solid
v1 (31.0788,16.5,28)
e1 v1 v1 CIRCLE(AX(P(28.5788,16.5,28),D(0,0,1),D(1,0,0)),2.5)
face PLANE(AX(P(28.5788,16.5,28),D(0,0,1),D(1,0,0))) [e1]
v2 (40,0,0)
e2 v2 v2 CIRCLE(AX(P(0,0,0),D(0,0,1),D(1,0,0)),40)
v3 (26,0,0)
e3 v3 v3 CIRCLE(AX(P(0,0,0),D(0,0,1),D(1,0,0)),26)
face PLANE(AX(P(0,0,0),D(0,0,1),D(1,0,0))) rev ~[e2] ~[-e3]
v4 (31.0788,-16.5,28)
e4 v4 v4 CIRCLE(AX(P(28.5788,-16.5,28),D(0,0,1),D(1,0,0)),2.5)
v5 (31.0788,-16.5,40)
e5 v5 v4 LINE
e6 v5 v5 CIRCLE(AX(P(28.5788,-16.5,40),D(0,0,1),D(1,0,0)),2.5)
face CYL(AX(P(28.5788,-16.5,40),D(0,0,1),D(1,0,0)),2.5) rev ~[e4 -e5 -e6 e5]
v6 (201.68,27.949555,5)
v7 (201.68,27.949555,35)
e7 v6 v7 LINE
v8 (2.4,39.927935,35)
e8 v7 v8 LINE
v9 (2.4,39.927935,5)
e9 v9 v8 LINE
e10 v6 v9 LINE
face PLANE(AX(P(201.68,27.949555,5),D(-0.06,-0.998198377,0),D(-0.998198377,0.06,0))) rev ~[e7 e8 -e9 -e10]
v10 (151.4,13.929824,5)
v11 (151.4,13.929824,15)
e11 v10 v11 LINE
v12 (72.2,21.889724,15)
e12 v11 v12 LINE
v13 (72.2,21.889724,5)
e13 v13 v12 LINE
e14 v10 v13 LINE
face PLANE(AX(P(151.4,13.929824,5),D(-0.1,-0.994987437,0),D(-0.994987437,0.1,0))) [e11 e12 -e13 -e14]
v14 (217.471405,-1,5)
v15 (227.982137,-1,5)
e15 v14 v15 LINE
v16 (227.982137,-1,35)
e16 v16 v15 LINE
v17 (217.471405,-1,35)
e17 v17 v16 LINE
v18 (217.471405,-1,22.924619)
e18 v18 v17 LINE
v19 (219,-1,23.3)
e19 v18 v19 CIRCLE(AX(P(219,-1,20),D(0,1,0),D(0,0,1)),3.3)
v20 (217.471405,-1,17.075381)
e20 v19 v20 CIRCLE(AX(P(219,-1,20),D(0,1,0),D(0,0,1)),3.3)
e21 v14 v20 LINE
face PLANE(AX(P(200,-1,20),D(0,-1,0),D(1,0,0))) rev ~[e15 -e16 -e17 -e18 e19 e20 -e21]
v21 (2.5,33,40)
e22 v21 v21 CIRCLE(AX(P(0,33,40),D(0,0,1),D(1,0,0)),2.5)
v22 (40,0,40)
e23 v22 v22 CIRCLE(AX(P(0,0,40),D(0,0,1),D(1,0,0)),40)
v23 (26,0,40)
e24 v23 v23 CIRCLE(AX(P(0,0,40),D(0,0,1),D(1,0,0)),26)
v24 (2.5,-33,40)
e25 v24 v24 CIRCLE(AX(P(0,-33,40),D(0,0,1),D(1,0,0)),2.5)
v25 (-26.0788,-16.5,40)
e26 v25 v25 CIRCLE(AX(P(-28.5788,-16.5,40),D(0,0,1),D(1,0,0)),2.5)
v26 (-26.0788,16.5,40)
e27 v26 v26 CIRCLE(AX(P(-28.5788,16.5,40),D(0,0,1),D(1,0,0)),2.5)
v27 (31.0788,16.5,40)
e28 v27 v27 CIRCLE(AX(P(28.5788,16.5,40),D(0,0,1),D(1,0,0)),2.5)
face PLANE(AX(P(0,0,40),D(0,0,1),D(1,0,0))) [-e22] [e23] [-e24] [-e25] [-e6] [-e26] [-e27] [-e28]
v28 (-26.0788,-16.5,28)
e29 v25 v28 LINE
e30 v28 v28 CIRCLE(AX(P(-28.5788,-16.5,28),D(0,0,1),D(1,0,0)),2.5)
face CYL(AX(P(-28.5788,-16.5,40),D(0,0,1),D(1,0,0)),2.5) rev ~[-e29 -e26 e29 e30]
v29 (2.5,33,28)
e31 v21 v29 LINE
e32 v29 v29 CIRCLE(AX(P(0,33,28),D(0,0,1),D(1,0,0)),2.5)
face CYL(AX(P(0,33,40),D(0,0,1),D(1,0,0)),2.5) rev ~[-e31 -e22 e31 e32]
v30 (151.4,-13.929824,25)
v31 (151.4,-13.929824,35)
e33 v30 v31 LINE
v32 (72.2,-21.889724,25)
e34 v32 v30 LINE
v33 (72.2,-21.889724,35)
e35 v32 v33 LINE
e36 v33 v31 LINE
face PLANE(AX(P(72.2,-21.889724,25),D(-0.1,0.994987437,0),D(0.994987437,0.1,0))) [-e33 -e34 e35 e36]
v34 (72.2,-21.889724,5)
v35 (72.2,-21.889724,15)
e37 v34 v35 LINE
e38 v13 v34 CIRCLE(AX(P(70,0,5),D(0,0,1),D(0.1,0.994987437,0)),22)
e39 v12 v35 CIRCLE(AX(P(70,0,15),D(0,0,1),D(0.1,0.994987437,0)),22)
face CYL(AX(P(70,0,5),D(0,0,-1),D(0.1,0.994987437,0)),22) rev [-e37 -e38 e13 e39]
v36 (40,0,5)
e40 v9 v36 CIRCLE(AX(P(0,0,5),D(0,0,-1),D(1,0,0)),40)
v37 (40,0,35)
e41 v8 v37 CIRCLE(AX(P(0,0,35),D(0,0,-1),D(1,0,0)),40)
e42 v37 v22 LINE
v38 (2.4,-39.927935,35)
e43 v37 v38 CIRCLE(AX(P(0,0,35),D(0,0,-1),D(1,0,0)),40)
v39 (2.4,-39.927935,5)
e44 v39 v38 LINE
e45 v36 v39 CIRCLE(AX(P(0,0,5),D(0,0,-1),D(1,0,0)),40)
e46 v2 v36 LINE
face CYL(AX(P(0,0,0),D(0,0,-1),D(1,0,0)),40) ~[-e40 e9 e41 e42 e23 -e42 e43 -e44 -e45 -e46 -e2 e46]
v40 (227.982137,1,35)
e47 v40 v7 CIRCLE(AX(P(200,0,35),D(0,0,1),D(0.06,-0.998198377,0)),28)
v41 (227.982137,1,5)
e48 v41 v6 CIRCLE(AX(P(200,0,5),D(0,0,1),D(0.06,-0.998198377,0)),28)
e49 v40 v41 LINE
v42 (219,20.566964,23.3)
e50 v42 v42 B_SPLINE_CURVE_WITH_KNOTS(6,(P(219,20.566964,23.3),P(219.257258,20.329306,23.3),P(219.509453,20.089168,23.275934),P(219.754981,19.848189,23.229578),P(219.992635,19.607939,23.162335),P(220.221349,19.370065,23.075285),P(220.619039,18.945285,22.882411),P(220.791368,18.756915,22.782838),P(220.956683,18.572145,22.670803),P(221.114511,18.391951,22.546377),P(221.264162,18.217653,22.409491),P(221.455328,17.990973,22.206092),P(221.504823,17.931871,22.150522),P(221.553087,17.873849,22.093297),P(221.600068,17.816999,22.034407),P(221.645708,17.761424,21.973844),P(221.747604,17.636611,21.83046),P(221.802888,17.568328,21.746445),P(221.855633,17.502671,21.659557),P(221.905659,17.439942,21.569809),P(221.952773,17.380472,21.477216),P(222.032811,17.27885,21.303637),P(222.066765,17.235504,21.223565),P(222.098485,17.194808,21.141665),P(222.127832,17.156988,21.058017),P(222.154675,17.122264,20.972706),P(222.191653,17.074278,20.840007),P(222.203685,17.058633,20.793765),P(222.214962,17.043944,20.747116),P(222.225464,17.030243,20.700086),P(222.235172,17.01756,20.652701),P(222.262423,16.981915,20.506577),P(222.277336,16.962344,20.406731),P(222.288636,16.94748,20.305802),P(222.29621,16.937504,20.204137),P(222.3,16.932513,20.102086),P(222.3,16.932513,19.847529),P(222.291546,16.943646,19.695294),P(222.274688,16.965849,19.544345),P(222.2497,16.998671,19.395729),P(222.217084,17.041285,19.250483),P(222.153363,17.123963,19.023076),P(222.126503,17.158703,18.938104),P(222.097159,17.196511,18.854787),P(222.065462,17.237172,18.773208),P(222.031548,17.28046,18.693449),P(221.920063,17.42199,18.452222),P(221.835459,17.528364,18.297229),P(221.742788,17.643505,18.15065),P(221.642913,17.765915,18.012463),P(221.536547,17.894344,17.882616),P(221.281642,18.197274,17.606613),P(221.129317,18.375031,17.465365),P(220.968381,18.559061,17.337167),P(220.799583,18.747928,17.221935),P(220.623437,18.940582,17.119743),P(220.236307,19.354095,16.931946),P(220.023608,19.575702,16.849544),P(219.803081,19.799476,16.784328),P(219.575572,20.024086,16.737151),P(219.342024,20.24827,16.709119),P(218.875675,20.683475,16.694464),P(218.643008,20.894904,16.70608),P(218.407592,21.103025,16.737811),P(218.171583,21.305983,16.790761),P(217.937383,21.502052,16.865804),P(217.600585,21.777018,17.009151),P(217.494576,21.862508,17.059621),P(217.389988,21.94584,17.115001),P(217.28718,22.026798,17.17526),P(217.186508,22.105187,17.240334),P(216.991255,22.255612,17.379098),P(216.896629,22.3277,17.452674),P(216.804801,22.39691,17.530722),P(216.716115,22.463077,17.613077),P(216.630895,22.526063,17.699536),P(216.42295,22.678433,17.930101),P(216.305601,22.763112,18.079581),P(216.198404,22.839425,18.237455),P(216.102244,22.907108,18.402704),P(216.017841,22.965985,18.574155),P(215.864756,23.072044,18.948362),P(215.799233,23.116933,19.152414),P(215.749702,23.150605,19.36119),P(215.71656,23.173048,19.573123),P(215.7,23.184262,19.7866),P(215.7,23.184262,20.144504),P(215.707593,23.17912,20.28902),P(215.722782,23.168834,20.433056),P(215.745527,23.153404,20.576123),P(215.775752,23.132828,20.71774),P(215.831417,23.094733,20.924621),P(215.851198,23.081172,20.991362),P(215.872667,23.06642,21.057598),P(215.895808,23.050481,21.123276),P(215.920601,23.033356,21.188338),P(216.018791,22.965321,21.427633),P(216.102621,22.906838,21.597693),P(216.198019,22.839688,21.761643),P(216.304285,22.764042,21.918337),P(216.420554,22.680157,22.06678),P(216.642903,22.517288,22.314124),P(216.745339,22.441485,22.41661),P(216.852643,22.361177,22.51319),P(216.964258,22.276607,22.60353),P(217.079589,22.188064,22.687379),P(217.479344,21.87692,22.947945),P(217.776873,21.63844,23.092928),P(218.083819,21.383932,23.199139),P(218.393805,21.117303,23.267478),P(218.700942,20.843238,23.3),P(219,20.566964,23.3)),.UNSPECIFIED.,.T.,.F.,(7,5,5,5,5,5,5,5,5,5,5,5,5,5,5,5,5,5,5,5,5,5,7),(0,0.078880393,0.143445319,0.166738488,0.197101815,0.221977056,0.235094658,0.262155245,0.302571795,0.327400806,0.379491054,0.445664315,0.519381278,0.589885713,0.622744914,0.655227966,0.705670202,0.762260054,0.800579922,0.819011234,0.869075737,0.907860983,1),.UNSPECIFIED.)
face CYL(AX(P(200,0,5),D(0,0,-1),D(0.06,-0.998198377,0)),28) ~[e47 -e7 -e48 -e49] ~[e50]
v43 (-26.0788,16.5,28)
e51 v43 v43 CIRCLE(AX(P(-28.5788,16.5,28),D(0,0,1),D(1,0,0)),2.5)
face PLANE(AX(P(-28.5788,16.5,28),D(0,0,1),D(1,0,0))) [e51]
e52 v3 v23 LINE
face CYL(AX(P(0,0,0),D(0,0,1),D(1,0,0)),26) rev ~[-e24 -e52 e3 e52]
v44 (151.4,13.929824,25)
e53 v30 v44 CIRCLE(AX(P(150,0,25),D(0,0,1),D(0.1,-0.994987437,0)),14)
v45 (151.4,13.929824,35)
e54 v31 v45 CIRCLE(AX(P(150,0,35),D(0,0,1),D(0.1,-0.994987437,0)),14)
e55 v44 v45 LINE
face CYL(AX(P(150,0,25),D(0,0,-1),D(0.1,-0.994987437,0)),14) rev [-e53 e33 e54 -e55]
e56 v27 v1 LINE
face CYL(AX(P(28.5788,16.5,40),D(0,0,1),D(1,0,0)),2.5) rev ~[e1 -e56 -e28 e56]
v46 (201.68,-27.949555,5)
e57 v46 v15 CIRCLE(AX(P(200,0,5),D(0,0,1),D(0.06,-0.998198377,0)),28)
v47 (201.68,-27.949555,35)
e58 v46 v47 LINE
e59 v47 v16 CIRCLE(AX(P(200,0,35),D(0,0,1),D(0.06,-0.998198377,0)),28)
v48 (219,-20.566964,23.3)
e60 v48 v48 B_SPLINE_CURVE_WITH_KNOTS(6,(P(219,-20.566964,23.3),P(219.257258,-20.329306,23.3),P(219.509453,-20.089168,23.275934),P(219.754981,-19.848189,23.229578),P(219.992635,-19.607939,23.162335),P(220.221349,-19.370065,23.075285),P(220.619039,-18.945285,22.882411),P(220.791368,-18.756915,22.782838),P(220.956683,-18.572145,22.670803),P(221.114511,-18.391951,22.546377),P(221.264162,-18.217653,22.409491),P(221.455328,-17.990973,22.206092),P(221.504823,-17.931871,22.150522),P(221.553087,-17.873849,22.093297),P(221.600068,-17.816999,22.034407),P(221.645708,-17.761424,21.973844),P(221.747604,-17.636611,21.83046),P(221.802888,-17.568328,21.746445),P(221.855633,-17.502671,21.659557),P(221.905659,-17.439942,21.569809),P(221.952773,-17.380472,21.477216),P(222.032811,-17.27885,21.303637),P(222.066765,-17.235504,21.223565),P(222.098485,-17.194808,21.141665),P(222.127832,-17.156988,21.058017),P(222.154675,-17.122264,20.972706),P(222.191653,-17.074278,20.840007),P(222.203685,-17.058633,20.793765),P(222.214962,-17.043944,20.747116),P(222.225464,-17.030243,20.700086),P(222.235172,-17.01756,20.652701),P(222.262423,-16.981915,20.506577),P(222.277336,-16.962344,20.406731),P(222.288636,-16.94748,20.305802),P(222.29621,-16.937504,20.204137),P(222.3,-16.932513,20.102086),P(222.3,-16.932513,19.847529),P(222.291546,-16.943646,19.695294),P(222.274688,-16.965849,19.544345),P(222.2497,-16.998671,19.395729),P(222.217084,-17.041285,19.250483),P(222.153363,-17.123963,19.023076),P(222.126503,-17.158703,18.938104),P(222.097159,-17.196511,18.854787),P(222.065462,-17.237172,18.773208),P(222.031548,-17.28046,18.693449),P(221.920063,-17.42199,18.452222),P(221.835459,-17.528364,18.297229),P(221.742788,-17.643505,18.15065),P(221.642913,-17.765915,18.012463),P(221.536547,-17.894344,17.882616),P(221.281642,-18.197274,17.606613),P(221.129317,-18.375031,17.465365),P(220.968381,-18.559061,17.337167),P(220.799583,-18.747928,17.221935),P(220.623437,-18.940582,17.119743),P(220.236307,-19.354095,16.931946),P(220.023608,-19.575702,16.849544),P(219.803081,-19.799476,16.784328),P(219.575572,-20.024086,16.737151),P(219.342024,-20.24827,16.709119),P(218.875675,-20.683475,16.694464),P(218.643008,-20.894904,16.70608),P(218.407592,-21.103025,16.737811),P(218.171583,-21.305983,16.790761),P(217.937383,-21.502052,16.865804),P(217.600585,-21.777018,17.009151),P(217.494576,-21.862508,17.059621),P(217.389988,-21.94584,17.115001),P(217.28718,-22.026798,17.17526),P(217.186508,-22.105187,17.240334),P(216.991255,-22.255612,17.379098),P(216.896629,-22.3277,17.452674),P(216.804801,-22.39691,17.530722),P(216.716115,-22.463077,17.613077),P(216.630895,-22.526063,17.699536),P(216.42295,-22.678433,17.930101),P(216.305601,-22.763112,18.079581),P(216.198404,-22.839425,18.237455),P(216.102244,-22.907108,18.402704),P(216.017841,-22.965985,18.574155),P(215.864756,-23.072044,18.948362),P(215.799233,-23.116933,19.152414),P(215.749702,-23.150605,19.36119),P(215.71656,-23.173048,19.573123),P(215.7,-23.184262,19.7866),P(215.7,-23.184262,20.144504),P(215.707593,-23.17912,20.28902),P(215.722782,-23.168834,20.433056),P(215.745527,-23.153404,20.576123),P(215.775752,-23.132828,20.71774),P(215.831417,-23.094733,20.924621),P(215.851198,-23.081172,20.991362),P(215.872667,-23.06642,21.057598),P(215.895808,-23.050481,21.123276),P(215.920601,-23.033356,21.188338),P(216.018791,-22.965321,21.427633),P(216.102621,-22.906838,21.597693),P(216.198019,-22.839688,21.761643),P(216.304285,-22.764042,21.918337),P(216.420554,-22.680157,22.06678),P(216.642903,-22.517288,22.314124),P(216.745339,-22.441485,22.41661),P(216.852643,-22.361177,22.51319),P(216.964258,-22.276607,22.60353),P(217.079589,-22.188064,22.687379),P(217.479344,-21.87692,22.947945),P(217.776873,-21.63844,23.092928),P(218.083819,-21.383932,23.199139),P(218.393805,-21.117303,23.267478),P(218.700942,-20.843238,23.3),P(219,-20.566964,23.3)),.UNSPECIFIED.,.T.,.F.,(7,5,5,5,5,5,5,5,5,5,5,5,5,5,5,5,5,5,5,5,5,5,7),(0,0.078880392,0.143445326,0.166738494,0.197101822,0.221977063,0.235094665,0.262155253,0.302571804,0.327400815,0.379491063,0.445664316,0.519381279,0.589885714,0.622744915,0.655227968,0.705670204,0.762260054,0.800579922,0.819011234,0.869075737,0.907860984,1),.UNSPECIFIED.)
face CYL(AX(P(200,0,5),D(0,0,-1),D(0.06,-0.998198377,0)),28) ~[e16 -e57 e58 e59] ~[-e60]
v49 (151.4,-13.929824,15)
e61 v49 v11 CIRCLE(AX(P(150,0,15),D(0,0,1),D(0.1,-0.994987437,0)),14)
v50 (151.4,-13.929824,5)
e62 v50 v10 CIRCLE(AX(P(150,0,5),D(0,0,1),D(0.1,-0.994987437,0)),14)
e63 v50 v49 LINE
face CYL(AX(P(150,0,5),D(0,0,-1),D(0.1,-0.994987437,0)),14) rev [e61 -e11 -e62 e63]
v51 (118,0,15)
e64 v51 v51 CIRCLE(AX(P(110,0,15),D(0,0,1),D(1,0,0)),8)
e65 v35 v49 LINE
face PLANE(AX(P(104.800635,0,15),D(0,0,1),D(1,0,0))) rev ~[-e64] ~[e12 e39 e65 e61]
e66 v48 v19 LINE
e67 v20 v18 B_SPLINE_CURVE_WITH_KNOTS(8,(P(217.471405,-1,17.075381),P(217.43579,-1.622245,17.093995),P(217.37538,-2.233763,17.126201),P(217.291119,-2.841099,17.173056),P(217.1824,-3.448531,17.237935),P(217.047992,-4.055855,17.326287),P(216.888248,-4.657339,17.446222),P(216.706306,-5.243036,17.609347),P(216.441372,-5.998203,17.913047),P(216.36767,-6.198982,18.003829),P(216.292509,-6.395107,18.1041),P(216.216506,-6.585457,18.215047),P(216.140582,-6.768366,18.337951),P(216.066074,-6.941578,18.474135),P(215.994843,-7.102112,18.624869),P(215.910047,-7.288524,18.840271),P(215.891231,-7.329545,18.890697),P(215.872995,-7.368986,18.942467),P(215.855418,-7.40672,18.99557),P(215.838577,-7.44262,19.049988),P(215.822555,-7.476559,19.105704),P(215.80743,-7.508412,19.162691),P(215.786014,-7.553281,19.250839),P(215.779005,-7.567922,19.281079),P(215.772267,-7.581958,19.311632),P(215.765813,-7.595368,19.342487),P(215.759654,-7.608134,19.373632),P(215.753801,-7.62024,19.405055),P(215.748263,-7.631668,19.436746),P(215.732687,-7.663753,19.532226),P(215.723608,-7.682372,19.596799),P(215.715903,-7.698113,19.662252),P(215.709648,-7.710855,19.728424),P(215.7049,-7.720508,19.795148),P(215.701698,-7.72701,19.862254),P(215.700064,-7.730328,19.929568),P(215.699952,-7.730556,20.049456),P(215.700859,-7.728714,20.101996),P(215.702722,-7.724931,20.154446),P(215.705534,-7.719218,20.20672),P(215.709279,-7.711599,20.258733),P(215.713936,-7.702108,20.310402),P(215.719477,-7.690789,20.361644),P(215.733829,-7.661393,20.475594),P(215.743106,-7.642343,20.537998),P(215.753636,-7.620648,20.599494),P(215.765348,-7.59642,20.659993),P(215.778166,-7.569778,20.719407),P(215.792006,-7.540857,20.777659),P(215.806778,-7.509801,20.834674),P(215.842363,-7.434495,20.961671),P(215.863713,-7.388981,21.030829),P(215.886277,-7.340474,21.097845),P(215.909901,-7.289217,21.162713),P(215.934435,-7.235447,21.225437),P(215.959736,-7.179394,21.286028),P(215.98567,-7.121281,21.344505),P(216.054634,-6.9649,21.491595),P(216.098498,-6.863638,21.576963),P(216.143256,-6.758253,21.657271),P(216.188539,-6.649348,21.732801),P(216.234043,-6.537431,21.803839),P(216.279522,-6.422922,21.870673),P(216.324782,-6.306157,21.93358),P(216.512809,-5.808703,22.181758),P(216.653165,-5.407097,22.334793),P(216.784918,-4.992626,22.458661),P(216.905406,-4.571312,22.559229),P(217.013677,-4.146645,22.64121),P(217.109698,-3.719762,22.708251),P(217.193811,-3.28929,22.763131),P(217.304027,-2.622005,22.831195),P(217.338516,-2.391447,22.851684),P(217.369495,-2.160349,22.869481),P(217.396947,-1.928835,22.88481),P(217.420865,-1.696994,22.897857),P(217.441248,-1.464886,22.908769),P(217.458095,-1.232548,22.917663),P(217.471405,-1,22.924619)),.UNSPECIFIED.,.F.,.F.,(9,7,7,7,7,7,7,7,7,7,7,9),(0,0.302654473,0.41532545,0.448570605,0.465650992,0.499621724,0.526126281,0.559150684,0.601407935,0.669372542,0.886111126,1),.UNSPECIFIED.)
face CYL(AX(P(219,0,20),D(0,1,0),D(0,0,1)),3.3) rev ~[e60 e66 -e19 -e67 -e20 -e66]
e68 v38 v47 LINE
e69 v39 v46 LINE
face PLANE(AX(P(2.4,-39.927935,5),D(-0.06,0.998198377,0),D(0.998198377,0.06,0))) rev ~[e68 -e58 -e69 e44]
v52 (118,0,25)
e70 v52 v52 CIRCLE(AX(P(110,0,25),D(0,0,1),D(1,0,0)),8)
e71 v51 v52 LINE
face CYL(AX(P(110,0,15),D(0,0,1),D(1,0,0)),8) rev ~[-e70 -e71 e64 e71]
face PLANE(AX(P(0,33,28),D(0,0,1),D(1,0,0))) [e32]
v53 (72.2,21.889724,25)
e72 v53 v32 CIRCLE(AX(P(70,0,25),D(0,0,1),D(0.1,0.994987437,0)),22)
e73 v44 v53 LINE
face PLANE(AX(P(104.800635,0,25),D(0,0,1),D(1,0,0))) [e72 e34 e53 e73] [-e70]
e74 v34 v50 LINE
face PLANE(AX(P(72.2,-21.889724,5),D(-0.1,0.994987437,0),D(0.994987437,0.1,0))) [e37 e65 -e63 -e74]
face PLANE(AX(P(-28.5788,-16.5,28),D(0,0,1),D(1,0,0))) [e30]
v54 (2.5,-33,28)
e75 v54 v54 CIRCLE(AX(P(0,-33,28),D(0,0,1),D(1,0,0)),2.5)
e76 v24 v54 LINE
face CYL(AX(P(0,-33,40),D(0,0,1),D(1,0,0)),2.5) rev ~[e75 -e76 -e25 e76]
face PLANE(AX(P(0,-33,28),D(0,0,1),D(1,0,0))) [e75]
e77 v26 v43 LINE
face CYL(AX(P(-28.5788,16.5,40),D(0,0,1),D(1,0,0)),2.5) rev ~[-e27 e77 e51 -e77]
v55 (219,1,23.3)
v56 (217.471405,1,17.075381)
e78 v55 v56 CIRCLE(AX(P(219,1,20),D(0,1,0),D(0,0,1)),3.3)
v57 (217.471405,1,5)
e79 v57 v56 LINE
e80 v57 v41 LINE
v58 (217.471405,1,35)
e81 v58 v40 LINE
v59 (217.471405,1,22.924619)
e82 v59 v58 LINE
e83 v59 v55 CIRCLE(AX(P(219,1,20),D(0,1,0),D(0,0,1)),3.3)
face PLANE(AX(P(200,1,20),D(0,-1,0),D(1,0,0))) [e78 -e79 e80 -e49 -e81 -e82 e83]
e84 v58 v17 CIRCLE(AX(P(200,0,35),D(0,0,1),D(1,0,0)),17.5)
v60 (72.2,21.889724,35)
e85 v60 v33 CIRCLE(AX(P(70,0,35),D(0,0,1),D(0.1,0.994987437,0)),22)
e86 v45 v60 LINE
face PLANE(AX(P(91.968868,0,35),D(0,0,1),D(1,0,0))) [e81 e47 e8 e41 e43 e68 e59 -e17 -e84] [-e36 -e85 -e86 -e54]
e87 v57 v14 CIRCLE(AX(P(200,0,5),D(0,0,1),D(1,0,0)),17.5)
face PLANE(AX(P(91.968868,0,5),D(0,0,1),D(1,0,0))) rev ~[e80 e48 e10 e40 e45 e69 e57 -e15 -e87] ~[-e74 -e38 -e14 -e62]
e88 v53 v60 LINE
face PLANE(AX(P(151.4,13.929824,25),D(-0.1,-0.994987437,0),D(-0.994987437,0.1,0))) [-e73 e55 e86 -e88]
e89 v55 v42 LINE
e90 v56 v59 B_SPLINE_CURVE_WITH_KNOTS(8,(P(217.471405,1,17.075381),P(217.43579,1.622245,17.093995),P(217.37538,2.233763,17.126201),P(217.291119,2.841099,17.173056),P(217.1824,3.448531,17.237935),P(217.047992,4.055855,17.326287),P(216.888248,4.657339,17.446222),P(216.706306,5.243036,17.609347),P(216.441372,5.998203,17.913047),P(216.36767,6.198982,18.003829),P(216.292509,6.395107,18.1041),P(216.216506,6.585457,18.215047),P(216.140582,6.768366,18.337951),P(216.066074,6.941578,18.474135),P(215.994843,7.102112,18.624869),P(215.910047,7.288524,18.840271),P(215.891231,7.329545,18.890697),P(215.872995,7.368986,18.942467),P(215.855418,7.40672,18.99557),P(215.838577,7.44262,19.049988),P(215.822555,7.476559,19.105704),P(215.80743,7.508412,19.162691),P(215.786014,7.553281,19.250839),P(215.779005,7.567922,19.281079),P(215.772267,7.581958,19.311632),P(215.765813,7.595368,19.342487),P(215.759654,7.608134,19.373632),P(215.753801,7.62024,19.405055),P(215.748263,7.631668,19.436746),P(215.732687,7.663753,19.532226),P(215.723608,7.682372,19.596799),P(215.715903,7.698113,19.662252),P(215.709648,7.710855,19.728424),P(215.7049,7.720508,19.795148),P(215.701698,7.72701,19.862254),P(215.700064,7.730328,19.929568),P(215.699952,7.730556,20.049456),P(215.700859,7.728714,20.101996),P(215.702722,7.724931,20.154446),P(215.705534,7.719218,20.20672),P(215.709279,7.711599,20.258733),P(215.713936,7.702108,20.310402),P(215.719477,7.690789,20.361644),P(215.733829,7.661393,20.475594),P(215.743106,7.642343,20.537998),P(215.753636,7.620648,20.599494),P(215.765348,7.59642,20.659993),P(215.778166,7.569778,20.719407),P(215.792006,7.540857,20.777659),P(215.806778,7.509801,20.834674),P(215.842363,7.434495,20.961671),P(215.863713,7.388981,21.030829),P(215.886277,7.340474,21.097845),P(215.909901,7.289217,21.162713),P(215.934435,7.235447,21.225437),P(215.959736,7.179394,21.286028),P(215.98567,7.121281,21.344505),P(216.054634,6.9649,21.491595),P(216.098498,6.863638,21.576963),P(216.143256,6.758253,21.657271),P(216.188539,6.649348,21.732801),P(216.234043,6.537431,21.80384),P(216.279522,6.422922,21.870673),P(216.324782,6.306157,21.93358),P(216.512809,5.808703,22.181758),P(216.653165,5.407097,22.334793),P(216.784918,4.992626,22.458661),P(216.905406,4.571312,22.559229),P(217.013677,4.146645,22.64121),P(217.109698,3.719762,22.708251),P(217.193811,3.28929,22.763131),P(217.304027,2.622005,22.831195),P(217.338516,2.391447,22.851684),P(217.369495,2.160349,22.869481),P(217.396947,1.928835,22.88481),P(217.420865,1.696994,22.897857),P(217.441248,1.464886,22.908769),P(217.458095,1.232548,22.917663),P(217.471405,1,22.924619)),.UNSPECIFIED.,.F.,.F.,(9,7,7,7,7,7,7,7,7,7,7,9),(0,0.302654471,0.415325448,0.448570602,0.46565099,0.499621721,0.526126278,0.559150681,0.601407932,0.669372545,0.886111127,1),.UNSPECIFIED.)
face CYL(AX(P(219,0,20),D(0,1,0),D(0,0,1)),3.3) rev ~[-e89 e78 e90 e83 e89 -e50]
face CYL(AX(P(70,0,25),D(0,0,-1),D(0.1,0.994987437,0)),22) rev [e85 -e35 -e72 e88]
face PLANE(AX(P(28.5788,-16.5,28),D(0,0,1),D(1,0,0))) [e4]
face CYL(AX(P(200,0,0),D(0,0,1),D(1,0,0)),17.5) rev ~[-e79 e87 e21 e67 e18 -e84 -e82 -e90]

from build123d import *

# Parameters (mm, degrees)
EXTRUDE_1_DEPTH      = 30
SKETCH_2_R           = 40
EXTRUDE_2_DEPTH      = 40
CUT_EXTRUDE_1_DEPTH  = 10
CUT_EXTRUDE_2_DEPTH  = 10
SKETCH_5_R           = 26
CUT_EXTRUDE_3_DEPTH  = 269
SKETCH_6_R           = 17.5
CUT_EXTRUDE_4_DEPTH  = 269
SKETCH_7_R           = 8
CUT_EXTRUDE_5_DEPTH  = 269
SKETCH_9_W           = 30
SKETCH_9_H           = 2
CUT_EXTRUDE_8_DEPTH  = 269
SKETCH_10_R          = 2.5
CUT_EXTRUDE_9_DEPTH  = 12
SKETCH_11_R          = 3.3
CUT_EXTRUDE_10_DEPTH = 268.982


with BuildPart() as part:
    # 草图1 → 凸台-拉伸1 (new body)
    with BuildSketch(Plane.XY.offset(5)):
        with BuildLine():
            Line((2.4, -39.927935083), (201.68, -27.949554558))
            ThreePointArc((201.68, -27.949554558), (228, 0), (201.68, 27.949554558))
            Line((201.68, 27.949554558), (2.4, 39.927935083))
            ThreePointArc((2.4, 39.927935083), (-40, 0), (2.4, -39.927935083))
        make_face()
    extrude(amount=EXTRUDE_1_DEPTH)

    # 草图2 → 凸台-拉伸2 (add)
    with BuildSketch(Plane.XY):
        Circle(SKETCH_2_R)
    extrude(amount=EXTRUDE_2_DEPTH)

    # 草图3 → 切除-拉伸1 (cut)
    with BuildSketch(Plane.XY.offset(25)):
        with BuildLine():
            Line((72.2, -21.889723616), (151.4, -13.929824119))
            ThreePointArc((151.4, -13.929824119), (164, 0), (151.4, 13.929824119))
            Line((151.4, 13.929824119), (72.2, 21.889723616))
            ThreePointArc((72.2, 21.889723616), (48, 0), (72.2, -21.889723616))
        make_face()
    extrude(amount=CUT_EXTRUDE_1_DEPTH, mode=Mode.SUBTRACT)

    # 草图4 → 切除-拉伸2 (cut)
    with BuildSketch(Plane.XY.offset(5)):
        with BuildLine():
            Line((72.2, -21.889723616), (151.4, -13.929824119))
            ThreePointArc((151.4, -13.929824119), (164, 0), (151.4, 13.929824119))
            Line((151.4, 13.929824119), (72.2, 21.889723616))
            ThreePointArc((72.2, 21.889723616), (48, 0), (72.2, -21.889723616))
        make_face()
    extrude(amount=CUT_EXTRUDE_2_DEPTH, mode=Mode.SUBTRACT)

    # 草图5 → 切除-拉伸3 (cut, symmetric)
    with BuildSketch(Plane.XY):
        Circle(SKETCH_5_R)
    extrude(amount=CUT_EXTRUDE_3_DEPTH, both=True, mode=Mode.SUBTRACT)

    # 草图6 → 切除-拉伸4 (cut, symmetric)
    with BuildSketch(Plane.XY):
        with Locations((200, 0)):
            Circle(SKETCH_6_R)
    extrude(amount=CUT_EXTRUDE_4_DEPTH, both=True, mode=Mode.SUBTRACT)

    # 草图7 → 切除-拉伸5 (cut, symmetric)
    with BuildSketch(Plane.XY.offset(15)):
        with Locations((110, 0)):
            Circle(SKETCH_7_R)
    extrude(amount=CUT_EXTRUDE_5_DEPTH, both=True, mode=Mode.SUBTRACT)

    # 草图9 → 切除-拉伸8 (cut, symmetric)
    with BuildSketch(Plane.XY.offset(20)):
        with Locations((215, 0)):
            Rectangle(SKETCH_9_W, SKETCH_9_H)
    extrude(amount=CUT_EXTRUDE_8_DEPTH, both=True, mode=Mode.SUBTRACT)

    # 草图10 → 切除-拉伸9 (cut)
    with BuildSketch(Plane.XY.offset(40)):
        with Locations((28.5788, 16.5)):
            Circle(SKETCH_10_R)
        with Locations((0, 33)):
            Circle(SKETCH_10_R)
        with Locations((-28.5788, 16.5)):
            Circle(SKETCH_10_R)
        with Locations((-28.5788, -16.5)):
            Circle(SKETCH_10_R)
        with Locations((0, -33)):
            Circle(SKETCH_10_R)
        with Locations((28.5788, -16.5)):
            Circle(SKETCH_10_R)
    extrude(amount=-CUT_EXTRUDE_9_DEPTH, mode=Mode.SUBTRACT)

    # 草图11 → 切除-拉伸10 (cut, symmetric)
    with BuildSketch(Plane(origin=(0, 0, 0), x_dir=(1, 0, 0), z_dir=(0, 1, 0))):
        with Locations(Location((219, -20, 0), (0, 0, 270))):
            Circle(SKETCH_11_R)
    extrude(amount=CUT_EXTRUDE_10_DEPTH, both=True, mode=Mode.SUBTRACT)


solid = part.part
